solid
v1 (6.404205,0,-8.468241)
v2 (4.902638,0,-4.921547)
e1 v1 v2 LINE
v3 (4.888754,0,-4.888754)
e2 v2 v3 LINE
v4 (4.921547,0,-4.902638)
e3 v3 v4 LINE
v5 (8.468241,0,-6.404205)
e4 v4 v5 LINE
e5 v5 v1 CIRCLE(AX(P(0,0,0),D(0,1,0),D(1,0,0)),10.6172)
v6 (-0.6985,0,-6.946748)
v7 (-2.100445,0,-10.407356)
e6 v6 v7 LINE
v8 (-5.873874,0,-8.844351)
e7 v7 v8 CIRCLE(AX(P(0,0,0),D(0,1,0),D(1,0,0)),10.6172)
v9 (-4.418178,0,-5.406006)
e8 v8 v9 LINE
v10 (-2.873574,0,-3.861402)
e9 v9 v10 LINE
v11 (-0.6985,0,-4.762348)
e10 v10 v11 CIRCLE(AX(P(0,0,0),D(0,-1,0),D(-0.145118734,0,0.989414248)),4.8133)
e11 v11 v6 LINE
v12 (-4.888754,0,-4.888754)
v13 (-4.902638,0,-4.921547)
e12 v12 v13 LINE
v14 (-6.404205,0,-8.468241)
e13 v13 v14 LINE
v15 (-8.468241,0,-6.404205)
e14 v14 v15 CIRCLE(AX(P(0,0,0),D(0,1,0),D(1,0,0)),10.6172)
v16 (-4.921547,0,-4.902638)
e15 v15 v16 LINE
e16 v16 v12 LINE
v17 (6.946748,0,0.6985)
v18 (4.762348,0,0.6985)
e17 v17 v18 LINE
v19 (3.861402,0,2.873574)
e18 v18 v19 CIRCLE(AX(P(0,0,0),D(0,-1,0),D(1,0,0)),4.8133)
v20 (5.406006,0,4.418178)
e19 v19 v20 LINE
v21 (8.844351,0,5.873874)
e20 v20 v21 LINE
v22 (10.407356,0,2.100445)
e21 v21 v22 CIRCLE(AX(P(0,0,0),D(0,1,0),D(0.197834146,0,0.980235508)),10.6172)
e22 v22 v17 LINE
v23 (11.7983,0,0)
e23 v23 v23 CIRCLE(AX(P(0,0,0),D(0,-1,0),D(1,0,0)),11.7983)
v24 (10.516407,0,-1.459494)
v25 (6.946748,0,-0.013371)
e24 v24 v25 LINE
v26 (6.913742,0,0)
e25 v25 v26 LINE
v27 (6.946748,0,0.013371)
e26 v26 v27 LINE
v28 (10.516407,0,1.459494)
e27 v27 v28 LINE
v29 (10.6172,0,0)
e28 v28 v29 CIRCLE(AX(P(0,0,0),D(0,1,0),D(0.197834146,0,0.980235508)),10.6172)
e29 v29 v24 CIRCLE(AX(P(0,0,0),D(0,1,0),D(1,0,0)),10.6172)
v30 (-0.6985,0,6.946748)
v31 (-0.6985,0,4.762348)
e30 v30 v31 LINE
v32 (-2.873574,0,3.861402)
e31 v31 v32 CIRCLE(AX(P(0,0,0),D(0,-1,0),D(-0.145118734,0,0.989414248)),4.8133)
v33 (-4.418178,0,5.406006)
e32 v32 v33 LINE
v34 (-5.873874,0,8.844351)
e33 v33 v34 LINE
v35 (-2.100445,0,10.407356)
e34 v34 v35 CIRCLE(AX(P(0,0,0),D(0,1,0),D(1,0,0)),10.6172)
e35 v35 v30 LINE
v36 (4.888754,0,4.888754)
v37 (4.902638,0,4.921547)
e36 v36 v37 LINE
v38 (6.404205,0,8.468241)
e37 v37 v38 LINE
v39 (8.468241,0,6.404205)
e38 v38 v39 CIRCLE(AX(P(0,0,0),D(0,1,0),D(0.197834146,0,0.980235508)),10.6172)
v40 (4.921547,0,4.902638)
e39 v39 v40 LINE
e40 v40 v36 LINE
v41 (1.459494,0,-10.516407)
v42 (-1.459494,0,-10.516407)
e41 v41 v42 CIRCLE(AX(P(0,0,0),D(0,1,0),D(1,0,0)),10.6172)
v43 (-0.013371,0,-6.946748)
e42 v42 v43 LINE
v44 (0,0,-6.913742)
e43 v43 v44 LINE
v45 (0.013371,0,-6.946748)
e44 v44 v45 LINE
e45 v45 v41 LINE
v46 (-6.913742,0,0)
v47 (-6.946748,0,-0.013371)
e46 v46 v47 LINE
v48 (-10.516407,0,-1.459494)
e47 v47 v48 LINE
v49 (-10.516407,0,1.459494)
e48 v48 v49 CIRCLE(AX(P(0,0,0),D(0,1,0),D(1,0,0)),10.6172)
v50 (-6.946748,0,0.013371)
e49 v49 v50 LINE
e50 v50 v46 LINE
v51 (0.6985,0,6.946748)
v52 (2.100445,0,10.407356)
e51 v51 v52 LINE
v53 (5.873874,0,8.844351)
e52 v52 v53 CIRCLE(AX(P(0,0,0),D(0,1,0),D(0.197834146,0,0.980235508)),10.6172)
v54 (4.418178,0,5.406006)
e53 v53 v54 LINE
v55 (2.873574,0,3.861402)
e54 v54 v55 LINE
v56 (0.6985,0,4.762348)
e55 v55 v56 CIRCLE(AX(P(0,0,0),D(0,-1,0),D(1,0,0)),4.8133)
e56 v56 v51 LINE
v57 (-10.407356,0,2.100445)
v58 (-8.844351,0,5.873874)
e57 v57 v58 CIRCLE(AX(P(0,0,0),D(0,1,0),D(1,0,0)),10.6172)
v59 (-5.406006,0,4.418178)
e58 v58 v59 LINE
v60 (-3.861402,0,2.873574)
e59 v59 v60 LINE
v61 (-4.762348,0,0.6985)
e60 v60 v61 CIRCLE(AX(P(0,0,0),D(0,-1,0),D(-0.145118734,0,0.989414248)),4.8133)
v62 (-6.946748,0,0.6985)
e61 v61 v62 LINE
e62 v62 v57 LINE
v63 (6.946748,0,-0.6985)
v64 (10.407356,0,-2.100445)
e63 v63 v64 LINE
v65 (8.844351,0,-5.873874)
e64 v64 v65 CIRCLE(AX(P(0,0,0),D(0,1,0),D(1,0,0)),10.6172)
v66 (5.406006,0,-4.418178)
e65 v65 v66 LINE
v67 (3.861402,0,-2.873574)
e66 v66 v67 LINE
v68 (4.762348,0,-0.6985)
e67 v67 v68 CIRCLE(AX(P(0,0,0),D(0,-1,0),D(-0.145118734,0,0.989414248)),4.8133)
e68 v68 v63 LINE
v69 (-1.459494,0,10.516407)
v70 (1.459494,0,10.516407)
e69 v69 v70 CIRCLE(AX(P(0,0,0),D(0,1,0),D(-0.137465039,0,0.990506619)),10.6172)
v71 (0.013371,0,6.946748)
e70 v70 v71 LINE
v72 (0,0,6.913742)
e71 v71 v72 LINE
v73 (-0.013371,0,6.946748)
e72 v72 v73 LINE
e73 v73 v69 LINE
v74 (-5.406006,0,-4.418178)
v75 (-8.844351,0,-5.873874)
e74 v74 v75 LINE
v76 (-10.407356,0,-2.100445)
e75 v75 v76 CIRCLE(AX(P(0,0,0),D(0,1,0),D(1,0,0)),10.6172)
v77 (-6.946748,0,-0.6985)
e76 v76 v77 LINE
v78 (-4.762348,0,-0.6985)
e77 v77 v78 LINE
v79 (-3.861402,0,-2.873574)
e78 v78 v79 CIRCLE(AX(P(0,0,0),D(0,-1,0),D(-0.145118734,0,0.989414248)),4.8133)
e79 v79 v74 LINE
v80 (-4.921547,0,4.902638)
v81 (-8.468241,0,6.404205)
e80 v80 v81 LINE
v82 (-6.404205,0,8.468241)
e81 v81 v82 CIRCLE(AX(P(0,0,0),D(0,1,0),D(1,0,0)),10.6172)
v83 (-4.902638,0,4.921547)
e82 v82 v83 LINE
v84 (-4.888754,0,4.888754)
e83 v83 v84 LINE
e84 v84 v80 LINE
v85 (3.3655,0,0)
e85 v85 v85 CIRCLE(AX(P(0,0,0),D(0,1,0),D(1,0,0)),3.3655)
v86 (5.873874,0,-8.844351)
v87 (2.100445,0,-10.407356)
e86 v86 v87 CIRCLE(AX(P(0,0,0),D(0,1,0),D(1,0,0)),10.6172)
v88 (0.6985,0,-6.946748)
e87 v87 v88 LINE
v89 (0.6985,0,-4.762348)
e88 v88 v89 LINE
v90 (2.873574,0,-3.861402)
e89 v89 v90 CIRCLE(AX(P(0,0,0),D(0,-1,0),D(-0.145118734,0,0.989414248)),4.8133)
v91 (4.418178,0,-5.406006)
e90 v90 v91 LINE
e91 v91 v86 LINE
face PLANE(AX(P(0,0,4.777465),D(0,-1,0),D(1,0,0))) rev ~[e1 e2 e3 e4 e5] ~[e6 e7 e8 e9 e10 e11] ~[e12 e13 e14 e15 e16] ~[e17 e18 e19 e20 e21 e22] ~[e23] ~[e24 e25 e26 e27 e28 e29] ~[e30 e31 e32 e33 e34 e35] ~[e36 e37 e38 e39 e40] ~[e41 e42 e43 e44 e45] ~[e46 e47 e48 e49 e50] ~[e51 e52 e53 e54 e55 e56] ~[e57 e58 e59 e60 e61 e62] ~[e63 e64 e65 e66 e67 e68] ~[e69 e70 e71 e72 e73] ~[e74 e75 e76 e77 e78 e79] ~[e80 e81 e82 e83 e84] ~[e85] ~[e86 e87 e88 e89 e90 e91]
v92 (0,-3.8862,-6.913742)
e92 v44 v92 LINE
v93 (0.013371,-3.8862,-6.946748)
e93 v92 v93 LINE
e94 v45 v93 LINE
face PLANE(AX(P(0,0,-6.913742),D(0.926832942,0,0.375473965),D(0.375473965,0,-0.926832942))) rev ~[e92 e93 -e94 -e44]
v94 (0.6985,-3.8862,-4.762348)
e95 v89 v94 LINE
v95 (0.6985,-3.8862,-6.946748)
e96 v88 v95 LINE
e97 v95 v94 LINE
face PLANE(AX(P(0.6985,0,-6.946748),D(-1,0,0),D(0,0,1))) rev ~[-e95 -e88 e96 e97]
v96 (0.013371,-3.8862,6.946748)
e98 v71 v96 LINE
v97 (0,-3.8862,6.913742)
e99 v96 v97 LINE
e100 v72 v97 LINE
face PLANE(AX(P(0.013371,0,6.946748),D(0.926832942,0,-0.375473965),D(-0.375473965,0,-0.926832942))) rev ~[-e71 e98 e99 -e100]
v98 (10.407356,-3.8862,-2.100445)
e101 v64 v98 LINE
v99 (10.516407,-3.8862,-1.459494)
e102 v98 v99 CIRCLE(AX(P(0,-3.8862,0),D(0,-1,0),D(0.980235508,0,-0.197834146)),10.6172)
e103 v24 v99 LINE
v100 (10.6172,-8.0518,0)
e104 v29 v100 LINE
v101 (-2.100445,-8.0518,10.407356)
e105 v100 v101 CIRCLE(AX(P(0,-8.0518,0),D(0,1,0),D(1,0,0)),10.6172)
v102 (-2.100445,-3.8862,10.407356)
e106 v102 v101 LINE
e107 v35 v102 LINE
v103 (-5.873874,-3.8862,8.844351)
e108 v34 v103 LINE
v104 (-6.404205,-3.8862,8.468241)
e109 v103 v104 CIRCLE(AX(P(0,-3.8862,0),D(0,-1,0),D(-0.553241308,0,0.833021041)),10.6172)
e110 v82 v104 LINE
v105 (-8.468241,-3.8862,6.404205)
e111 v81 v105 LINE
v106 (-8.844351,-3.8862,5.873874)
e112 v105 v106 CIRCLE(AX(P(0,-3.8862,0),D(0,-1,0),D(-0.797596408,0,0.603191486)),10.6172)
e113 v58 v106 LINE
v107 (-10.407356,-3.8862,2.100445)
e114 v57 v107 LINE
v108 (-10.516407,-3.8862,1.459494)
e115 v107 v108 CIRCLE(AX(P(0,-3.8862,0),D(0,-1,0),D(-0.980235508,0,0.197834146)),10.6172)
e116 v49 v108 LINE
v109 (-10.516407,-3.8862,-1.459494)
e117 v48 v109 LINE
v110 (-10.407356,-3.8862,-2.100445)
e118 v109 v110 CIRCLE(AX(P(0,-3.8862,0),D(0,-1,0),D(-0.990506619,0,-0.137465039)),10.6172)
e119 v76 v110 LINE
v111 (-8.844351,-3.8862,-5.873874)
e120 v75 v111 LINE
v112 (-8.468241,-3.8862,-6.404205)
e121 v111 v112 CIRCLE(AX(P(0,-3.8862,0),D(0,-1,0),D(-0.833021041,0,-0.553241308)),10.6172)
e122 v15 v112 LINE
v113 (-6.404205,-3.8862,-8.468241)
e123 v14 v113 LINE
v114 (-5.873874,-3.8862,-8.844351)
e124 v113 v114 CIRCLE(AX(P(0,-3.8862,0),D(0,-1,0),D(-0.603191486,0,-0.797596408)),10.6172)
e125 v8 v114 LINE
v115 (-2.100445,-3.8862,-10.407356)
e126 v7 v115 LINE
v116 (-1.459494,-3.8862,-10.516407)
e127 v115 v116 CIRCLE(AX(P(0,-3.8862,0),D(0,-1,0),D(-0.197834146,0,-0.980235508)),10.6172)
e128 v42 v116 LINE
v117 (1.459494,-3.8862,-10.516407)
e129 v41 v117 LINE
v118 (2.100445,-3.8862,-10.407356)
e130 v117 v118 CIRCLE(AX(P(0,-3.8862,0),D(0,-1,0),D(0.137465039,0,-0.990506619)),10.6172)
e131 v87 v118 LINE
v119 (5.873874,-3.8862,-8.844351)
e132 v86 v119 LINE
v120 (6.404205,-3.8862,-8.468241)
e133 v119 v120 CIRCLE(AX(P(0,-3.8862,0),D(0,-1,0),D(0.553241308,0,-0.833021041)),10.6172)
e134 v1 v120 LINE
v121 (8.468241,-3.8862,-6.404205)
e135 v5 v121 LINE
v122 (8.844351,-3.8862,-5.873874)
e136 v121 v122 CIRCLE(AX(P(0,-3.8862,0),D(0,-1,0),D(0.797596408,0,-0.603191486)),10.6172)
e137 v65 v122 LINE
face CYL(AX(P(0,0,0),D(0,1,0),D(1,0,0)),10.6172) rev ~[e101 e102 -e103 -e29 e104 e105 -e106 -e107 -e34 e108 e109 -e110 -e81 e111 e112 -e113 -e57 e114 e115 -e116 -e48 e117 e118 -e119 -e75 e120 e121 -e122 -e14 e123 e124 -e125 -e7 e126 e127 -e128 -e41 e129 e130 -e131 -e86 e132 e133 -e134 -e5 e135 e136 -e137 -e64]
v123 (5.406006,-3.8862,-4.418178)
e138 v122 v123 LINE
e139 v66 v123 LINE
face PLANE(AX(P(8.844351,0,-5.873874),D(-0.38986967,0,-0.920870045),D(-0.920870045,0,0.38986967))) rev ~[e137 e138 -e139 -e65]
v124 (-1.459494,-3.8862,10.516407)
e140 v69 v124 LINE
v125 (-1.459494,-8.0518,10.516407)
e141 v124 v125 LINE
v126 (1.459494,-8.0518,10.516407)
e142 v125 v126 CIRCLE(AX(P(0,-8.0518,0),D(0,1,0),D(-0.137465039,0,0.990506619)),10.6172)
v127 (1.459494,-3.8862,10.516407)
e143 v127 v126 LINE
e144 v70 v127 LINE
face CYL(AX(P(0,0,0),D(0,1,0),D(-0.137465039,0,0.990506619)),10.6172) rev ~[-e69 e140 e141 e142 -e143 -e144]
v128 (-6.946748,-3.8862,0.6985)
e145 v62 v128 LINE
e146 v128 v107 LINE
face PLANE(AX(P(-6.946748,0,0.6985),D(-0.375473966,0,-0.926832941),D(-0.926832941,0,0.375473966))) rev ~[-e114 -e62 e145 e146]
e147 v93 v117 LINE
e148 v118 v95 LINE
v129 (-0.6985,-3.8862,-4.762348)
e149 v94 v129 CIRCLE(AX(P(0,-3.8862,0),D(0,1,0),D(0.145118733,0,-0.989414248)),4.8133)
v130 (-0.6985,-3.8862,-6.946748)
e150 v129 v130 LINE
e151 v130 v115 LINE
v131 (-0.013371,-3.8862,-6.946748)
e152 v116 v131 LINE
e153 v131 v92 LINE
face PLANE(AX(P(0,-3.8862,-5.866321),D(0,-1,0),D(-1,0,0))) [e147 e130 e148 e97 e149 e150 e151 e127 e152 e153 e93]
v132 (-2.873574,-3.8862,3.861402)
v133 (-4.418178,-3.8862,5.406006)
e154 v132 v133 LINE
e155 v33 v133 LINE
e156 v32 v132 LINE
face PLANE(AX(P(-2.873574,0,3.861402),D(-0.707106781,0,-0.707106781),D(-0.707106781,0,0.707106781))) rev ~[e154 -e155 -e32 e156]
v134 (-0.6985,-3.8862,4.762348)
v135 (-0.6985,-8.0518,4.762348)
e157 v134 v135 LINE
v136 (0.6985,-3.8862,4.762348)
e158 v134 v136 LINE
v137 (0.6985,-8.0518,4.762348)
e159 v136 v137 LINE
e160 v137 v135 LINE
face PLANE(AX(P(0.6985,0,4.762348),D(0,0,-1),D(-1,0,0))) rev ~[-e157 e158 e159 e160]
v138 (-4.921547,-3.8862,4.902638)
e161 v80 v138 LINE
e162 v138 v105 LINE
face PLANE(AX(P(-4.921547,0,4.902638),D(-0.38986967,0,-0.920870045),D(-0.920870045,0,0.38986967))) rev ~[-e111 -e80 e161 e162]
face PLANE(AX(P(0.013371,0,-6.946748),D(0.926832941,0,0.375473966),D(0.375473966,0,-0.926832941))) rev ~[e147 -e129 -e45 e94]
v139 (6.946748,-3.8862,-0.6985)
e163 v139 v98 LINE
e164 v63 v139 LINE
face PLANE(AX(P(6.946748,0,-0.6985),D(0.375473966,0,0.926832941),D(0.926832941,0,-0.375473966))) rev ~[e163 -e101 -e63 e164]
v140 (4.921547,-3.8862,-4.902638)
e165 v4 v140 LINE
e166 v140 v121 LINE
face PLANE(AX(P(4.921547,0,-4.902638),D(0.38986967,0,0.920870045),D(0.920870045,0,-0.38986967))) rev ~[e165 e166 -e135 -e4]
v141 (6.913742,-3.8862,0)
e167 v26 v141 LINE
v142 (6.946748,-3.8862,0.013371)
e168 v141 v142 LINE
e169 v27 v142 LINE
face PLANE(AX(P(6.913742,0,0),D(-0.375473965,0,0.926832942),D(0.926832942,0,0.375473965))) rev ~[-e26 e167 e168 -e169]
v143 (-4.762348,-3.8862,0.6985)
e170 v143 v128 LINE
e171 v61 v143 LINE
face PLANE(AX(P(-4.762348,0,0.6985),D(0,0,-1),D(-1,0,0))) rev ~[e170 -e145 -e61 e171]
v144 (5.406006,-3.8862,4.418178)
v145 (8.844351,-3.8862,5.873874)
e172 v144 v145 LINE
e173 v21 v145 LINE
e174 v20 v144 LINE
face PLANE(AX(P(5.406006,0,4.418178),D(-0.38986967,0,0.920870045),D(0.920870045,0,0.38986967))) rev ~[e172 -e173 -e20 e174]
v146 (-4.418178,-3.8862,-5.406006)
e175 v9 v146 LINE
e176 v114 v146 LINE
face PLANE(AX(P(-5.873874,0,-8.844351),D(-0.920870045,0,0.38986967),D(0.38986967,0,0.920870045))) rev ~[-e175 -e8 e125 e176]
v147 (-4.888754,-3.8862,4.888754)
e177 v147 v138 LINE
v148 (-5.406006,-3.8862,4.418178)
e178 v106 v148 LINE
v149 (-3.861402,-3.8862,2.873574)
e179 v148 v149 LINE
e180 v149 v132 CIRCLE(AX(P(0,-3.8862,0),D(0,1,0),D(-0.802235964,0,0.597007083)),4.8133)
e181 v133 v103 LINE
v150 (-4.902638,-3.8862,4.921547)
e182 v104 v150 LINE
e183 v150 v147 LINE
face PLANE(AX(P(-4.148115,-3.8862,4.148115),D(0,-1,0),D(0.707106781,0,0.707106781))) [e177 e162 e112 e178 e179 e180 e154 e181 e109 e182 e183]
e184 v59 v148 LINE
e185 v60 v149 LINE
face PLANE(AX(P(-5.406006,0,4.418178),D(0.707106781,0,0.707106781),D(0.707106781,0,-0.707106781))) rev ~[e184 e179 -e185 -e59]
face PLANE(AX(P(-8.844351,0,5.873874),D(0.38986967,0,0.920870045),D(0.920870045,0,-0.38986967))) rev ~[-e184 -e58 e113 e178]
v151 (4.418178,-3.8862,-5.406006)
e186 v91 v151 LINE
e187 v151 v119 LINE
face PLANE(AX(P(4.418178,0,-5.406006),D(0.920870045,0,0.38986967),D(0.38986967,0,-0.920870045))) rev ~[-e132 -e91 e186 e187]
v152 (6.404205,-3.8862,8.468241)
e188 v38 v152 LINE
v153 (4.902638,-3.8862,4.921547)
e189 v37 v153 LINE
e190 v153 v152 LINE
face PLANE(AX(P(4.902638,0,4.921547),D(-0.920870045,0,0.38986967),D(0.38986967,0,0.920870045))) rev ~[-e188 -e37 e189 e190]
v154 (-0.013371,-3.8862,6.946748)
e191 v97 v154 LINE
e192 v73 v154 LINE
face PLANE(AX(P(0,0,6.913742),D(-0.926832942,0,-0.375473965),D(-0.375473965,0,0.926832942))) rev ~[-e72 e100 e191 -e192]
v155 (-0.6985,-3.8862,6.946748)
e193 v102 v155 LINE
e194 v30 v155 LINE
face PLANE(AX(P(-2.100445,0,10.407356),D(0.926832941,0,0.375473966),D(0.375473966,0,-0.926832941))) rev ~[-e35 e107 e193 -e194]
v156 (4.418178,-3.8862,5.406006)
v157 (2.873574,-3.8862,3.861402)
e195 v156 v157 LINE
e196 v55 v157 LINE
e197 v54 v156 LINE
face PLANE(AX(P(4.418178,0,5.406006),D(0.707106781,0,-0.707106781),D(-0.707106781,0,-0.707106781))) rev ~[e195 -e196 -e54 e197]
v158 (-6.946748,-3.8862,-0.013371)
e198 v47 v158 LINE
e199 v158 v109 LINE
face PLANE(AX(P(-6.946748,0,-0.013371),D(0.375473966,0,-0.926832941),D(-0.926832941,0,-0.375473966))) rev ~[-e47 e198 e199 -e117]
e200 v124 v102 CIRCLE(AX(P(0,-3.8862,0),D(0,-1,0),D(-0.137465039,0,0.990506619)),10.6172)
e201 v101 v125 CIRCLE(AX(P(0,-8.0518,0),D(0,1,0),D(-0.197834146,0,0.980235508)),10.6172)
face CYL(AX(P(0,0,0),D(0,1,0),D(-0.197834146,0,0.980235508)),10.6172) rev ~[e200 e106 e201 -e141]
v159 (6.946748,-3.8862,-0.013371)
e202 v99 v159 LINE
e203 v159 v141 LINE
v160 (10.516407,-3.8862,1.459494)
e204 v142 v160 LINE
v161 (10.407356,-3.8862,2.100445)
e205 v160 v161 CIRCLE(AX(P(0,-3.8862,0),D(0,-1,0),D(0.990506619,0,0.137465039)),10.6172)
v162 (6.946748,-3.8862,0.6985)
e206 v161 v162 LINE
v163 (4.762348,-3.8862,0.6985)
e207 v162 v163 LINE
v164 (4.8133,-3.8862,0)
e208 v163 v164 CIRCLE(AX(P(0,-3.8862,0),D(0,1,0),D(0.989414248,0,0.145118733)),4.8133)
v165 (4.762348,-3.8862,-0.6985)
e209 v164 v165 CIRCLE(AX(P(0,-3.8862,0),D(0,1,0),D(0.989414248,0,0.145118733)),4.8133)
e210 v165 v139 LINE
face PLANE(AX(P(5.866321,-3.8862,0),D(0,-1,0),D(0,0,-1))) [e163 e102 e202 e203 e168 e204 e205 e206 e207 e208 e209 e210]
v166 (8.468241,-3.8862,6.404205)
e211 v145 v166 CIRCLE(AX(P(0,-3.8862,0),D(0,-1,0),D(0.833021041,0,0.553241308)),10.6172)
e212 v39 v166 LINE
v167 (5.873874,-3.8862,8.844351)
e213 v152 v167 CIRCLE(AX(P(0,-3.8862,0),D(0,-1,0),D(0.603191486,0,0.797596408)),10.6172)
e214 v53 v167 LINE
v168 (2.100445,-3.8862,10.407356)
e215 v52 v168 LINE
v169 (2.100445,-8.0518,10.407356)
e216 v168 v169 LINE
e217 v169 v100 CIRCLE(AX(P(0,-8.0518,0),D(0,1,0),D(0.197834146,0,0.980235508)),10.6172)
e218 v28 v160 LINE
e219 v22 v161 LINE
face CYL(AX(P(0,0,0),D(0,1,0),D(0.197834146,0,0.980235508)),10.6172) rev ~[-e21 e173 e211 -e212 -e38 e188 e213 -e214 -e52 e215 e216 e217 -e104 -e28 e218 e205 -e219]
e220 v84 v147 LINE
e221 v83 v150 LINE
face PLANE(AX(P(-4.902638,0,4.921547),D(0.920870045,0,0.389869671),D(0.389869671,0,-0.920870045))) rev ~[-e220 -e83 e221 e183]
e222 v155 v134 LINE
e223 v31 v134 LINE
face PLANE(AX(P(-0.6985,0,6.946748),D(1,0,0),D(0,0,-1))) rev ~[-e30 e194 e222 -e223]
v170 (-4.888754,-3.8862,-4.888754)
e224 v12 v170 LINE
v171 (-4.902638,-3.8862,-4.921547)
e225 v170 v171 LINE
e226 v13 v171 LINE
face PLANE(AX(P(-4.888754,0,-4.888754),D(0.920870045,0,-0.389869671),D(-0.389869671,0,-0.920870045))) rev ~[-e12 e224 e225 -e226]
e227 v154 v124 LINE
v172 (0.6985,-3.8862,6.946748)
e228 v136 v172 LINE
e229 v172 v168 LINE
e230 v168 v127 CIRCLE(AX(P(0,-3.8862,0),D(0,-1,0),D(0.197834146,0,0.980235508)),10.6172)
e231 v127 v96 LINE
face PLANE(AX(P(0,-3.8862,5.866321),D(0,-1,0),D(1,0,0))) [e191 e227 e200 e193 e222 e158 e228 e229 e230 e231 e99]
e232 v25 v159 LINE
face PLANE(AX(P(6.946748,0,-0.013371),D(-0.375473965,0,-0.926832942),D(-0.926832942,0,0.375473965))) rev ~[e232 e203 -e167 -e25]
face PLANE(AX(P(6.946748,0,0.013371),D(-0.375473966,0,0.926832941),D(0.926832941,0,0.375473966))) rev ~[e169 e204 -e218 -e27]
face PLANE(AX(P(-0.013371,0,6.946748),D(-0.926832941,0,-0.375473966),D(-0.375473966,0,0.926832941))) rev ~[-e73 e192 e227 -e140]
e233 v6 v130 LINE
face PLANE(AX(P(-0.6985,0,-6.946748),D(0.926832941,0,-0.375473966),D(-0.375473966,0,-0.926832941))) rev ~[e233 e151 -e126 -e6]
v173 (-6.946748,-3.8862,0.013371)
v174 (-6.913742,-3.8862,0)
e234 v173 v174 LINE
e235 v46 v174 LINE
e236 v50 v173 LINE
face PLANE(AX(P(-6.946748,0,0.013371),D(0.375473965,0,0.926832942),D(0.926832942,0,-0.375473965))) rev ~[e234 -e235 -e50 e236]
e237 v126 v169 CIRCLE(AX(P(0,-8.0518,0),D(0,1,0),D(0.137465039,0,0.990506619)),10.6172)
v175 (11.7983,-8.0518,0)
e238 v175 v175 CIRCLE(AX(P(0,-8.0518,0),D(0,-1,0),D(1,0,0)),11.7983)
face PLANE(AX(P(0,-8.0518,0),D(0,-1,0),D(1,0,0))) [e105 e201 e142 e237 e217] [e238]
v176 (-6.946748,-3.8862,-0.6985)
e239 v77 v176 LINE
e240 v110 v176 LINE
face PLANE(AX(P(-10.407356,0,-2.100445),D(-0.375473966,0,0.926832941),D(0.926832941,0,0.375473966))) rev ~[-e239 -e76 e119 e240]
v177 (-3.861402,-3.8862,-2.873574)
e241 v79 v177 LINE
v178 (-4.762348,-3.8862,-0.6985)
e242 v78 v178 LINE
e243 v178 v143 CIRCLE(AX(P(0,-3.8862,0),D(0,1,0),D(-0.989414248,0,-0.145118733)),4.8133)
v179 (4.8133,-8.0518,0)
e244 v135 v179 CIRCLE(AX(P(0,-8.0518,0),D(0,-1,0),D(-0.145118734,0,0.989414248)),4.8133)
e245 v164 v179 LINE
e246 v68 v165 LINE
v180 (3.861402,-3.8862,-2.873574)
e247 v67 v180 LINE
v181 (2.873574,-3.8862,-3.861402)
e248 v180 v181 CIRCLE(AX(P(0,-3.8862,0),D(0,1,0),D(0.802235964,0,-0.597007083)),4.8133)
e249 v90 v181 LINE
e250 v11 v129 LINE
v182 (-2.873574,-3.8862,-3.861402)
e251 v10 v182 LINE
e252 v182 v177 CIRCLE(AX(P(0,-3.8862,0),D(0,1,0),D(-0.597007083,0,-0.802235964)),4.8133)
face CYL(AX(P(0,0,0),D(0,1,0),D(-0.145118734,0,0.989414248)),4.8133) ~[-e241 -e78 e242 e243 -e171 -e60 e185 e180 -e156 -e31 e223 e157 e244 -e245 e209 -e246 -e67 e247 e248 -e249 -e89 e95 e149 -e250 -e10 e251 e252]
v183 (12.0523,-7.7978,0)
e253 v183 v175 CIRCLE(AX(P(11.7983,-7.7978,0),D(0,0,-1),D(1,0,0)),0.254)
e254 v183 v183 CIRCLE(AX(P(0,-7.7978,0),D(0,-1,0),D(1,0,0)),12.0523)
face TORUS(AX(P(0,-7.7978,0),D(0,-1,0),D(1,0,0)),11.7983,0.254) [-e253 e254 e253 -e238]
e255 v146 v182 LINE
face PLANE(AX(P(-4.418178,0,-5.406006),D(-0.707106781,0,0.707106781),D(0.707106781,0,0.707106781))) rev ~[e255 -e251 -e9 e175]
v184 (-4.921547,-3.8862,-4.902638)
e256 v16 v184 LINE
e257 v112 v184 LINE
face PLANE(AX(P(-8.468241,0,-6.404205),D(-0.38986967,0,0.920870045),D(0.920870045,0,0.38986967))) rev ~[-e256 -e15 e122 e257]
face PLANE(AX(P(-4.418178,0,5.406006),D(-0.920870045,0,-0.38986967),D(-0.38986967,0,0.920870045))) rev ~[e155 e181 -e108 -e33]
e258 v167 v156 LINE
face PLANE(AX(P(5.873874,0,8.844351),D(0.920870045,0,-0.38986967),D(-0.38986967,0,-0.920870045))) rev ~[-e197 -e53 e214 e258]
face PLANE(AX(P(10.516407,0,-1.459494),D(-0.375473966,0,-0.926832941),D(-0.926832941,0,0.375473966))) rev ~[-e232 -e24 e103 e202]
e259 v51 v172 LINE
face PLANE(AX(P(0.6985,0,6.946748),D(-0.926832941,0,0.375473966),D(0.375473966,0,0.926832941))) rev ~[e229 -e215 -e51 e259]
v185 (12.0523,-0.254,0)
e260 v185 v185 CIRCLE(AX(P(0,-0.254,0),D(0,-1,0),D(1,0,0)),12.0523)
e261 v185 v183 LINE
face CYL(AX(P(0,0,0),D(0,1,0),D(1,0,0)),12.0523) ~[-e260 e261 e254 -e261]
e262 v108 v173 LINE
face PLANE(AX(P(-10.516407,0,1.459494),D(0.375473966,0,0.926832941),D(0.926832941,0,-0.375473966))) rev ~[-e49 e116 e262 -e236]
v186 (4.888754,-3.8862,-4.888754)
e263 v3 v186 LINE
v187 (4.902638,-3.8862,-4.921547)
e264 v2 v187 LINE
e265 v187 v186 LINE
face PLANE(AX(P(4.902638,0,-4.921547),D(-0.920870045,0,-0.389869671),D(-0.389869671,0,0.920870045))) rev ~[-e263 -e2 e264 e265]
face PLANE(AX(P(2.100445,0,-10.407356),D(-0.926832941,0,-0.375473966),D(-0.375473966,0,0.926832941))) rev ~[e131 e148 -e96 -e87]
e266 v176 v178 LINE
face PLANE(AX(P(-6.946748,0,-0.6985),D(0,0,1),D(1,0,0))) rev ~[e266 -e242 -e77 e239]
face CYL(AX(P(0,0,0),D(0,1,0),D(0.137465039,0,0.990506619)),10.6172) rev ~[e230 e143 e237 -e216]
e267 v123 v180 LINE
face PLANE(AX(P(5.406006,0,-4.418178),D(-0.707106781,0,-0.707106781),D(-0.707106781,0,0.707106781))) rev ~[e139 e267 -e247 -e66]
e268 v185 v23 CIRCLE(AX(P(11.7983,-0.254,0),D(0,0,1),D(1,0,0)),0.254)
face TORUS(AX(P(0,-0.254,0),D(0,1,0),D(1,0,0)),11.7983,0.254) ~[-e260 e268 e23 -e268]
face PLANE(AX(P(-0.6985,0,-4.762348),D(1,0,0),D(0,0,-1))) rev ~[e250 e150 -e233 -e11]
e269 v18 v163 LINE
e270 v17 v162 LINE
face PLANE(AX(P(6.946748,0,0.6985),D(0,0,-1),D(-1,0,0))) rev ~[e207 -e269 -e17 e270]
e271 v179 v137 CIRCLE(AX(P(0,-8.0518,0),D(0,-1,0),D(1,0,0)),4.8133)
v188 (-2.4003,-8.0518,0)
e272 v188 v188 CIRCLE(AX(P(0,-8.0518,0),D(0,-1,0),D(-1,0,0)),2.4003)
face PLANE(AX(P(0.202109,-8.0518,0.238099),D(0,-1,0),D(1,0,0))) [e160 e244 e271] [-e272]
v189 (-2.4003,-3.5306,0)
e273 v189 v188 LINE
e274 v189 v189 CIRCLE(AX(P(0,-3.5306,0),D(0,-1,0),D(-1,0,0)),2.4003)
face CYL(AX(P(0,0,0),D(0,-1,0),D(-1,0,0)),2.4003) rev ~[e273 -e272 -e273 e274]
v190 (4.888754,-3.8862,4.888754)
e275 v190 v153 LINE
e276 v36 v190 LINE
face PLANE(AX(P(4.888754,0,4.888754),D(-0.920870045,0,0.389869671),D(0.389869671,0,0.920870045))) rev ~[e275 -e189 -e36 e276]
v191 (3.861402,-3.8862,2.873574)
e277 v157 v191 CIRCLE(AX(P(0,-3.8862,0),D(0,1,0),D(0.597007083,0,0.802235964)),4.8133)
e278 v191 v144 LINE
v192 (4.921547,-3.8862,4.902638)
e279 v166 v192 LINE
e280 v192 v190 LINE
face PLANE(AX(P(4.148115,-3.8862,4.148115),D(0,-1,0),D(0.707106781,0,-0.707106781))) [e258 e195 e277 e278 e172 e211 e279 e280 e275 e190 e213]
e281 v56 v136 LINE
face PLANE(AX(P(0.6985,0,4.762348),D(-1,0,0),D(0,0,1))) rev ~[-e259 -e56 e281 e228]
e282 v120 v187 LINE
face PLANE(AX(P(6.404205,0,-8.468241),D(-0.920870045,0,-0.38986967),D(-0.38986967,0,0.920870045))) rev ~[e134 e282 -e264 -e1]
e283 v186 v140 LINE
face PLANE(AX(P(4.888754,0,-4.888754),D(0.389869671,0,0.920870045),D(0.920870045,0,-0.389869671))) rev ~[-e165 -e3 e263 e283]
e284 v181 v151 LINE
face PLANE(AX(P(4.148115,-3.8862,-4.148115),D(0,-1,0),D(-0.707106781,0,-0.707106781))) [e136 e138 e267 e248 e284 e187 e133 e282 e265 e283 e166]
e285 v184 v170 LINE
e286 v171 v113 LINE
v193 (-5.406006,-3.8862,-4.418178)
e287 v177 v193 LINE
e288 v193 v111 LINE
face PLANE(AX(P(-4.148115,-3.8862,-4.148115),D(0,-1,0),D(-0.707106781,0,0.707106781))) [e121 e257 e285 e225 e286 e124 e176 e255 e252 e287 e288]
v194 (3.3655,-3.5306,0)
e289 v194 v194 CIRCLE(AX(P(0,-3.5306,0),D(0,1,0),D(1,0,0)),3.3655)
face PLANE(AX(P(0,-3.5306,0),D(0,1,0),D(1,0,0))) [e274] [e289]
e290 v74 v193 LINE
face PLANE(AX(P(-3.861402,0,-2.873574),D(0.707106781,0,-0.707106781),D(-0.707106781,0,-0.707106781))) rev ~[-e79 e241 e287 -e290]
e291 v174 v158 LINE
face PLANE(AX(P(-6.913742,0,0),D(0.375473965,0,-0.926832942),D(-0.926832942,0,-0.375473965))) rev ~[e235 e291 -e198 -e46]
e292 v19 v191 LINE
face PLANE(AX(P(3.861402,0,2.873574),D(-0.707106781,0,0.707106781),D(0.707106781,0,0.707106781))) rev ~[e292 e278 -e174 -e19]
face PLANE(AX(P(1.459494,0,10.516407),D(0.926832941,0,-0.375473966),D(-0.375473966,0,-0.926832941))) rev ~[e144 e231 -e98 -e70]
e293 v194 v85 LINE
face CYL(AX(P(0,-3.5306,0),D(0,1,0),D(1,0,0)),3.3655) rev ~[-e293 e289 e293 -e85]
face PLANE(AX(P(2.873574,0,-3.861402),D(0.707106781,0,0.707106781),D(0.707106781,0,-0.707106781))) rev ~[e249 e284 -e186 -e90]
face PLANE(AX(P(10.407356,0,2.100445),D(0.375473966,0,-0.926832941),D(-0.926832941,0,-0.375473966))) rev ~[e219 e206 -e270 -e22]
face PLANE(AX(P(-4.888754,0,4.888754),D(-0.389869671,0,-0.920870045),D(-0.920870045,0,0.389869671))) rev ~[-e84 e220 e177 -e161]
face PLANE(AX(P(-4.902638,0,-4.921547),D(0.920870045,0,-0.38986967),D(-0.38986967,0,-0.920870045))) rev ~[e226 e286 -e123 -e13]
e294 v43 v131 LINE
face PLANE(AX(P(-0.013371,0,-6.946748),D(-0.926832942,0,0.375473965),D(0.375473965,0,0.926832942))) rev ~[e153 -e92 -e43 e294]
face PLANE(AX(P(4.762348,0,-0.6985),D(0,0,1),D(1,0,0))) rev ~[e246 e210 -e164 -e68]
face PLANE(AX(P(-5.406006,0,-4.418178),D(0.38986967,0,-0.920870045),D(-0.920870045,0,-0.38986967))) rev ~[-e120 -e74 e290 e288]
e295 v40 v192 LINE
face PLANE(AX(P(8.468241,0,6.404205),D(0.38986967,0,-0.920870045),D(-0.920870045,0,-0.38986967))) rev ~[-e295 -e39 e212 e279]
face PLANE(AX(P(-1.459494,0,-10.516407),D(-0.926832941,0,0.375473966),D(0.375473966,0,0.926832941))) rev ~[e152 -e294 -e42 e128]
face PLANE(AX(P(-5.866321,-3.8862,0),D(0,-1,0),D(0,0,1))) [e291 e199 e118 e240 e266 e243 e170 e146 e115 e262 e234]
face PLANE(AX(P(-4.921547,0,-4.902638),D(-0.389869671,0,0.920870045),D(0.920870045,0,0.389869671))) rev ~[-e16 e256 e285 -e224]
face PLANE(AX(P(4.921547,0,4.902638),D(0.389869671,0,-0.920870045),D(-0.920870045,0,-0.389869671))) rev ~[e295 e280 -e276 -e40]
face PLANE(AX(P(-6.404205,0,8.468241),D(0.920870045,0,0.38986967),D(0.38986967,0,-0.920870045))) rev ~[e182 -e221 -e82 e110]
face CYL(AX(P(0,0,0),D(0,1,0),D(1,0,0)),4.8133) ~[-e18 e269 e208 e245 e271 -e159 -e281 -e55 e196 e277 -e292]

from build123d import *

# Parameters (mm, degrees)
F1_DEPTH       = 3.8862
F2_COUNT       = 8
F0_R           = 12.0523
F3_DEPTH       = 8.0518
F4_D           = 4.8006
F4_CBORE_D     = 6.731
F4_CBORE_DEPTH = 3.5306
F5_R           = 0.254
F6_DEPTH       = 3.8862


with BuildPart() as f1:
    # F0 (on Front) → F1 (new body)
    with BuildSketch(Plane.XZ):
        with BuildLine():
            Line((0.6985, 4.7623475976), (0.6985, 6.9467475976))
            Line((0.6985, 6.9467475976), (0.013371136, 6.9467475976))
            Line((0.013371136, 6.9467475976), (0, 6.9137418223))
            Line((0, 6.9137418223), (-0.013371136, 6.9467475976))
            Line((-0.013371136, 6.9467475976), (-0.6985, 6.9467475976))
            Line((-0.6985, 6.9467475976), (-0.6985, 4.7623475976))
            ThreePointArc((-0.6985, 4.7623475976), (0, 4.8133), (0.6985, 4.7623475976))
        make_face()
        with BuildLine():
            Line((0.6985, 6.9467475976), (2.1004446952, 10.4073564329))
            ThreePointArc((2.1004446952, 10.4073564329), (1.7808041825, 10.4667890159), (1.4594938078, 10.51640688))
            Line((1.4594938078, 10.51640688), (0.013371136, 6.9467475976))
            Line((0.013371136, 6.9467475976), (0.6985, 6.9467475976))
        make_face()
        with BuildLine():
            ThreePointArc((-1.4594938078, 10.51640688), (-1.7808041825, 10.4667890159), (-2.1004446952, 10.4073564329))
            Line((-2.1004446952, 10.4073564329), (-0.6985, 6.9467475976))
            Line((-0.6985, 6.9467475976), (-0.013371136, 6.9467475976))
            Line((-0.013371136, 6.9467475976), (-1.4594938078, 10.51640688))
        make_face()
    extrude(amount=F1_DEPTH)


with BuildPart() as f2_1:
    # F2: instance of F1
    add(f1.part.rotate(Axis((0, 0, 0), (0, -1, 0)), 1 * 360 / F2_COUNT))


with BuildPart() as f2_2:
    # F2: instance of F1
    add(f1.part.rotate(Axis((0, 0, 0), (0, -1, 0)), 2 * 360 / F2_COUNT))


with BuildPart() as f2_3:
    # F2: instance of F1
    add(f1.part.rotate(Axis((0, 0, 0), (0, -1, 0)), 3 * 360 / F2_COUNT))


with BuildPart() as f2_4:
    # F2: instance of F1
    add(f1.part.rotate(Axis((0, 0, 0), (0, -1, 0)), 4 * 360 / F2_COUNT))


with BuildPart() as f2_5:
    # F2: instance of F1
    add(f1.part.rotate(Axis((0, 0, 0), (0, -1, 0)), 5 * 360 / F2_COUNT))


with BuildPart() as f2_6:
    # F2: instance of F1
    add(f1.part.rotate(Axis((0, 0, 0), (0, -1, 0)), 6 * 360 / F2_COUNT))


with BuildPart() as f2_7:
    # F2: instance of F1
    add(f1.part.rotate(Axis((0, 0, 0), (0, -1, 0)), 7 * 360 / F2_COUNT))


with BuildPart() as f1_1:
    add(f1.part)

    add(f2_1.part)  # F3 merges F2_1

    add(f2_2.part)  # F3 merges F2_2

    add(f2_3.part)  # F3 merges F2_3

    add(f2_4.part)  # F3 merges F2_4

    add(f2_5.part)  # F3 merges F2_5

    add(f2_6.part)  # F3 merges F2_6

    add(f2_7.part)  # F3 merges F2_7
    # F0 (on Front) → F3 (join)
    with BuildSketch(Plane.XZ):
        Circle(F0_R)
        with BuildLine():
            ThreePointArc((2.1004446952, 10.4073564329), (8.2166227021, 6.7239904232), (10.6172, 0))
            ThreePointArc((10.6172, 0), (-6.7239904232, -8.2166227021), (-2.1004446952, 10.4073564329))
            ThreePointArc((-2.1004446952, 10.4073564329), (-1.7808041825, 10.4667890159), (-1.4594938078, 10.51640688))
            ThreePointArc((-1.4594938078, 10.51640688), (0, 10.6172), (1.4594938078, 10.51640688))
            ThreePointArc((1.4594938078, 10.51640688), (1.7808041825, 10.4667890159), (2.1004446952, 10.4073564329))
        make_face(mode=Mode.SUBTRACT)
        with BuildLine():
            ThreePointArc((4.8133, 0), (3.6421111282, 3.1468847167), (0.6985, 4.7623475976))
            Line((0.6985, 4.7623475976), (-0.6985, 4.7623475976))
            ThreePointArc((-0.6985, 4.7623475976), (-3.1468847167, -3.6421111282), (4.8133, 0))
        make_face()
    extrude(amount=F3_DEPTH)

    # F4 (through all)
    with Locations(Plane(origin=(0, 0, 0), x_dir=(1, 0, 0), z_dir=(0, 1, 0))):
        with Locations((0, 0)):
            CounterBoreHole(F4_D / 2, F4_CBORE_D / 2, F4_CBORE_DEPTH)

    # F5
    f5_edges = [f1_1.edges().sort_by_distance(p)[0] for p in [
        (-12.0523, -8.0518, 0),
        (-12.0523, 0, 0),
    ]]
    fillet(f5_edges, radius=F5_R)

    # F0 (on Front) → F6 (join, through all)
    with BuildSketch(Plane.XZ):
        with BuildLine():
            Line((-0.6985, 4.7623475976), (0.6985, 4.7623475976))
            ThreePointArc((0.6985, 4.7623475976), (0, 4.8133), (-0.6985, 4.7623475976))
        make_face()
    extrude(amount=F6_DEPTH)


solid = f1_1.part
